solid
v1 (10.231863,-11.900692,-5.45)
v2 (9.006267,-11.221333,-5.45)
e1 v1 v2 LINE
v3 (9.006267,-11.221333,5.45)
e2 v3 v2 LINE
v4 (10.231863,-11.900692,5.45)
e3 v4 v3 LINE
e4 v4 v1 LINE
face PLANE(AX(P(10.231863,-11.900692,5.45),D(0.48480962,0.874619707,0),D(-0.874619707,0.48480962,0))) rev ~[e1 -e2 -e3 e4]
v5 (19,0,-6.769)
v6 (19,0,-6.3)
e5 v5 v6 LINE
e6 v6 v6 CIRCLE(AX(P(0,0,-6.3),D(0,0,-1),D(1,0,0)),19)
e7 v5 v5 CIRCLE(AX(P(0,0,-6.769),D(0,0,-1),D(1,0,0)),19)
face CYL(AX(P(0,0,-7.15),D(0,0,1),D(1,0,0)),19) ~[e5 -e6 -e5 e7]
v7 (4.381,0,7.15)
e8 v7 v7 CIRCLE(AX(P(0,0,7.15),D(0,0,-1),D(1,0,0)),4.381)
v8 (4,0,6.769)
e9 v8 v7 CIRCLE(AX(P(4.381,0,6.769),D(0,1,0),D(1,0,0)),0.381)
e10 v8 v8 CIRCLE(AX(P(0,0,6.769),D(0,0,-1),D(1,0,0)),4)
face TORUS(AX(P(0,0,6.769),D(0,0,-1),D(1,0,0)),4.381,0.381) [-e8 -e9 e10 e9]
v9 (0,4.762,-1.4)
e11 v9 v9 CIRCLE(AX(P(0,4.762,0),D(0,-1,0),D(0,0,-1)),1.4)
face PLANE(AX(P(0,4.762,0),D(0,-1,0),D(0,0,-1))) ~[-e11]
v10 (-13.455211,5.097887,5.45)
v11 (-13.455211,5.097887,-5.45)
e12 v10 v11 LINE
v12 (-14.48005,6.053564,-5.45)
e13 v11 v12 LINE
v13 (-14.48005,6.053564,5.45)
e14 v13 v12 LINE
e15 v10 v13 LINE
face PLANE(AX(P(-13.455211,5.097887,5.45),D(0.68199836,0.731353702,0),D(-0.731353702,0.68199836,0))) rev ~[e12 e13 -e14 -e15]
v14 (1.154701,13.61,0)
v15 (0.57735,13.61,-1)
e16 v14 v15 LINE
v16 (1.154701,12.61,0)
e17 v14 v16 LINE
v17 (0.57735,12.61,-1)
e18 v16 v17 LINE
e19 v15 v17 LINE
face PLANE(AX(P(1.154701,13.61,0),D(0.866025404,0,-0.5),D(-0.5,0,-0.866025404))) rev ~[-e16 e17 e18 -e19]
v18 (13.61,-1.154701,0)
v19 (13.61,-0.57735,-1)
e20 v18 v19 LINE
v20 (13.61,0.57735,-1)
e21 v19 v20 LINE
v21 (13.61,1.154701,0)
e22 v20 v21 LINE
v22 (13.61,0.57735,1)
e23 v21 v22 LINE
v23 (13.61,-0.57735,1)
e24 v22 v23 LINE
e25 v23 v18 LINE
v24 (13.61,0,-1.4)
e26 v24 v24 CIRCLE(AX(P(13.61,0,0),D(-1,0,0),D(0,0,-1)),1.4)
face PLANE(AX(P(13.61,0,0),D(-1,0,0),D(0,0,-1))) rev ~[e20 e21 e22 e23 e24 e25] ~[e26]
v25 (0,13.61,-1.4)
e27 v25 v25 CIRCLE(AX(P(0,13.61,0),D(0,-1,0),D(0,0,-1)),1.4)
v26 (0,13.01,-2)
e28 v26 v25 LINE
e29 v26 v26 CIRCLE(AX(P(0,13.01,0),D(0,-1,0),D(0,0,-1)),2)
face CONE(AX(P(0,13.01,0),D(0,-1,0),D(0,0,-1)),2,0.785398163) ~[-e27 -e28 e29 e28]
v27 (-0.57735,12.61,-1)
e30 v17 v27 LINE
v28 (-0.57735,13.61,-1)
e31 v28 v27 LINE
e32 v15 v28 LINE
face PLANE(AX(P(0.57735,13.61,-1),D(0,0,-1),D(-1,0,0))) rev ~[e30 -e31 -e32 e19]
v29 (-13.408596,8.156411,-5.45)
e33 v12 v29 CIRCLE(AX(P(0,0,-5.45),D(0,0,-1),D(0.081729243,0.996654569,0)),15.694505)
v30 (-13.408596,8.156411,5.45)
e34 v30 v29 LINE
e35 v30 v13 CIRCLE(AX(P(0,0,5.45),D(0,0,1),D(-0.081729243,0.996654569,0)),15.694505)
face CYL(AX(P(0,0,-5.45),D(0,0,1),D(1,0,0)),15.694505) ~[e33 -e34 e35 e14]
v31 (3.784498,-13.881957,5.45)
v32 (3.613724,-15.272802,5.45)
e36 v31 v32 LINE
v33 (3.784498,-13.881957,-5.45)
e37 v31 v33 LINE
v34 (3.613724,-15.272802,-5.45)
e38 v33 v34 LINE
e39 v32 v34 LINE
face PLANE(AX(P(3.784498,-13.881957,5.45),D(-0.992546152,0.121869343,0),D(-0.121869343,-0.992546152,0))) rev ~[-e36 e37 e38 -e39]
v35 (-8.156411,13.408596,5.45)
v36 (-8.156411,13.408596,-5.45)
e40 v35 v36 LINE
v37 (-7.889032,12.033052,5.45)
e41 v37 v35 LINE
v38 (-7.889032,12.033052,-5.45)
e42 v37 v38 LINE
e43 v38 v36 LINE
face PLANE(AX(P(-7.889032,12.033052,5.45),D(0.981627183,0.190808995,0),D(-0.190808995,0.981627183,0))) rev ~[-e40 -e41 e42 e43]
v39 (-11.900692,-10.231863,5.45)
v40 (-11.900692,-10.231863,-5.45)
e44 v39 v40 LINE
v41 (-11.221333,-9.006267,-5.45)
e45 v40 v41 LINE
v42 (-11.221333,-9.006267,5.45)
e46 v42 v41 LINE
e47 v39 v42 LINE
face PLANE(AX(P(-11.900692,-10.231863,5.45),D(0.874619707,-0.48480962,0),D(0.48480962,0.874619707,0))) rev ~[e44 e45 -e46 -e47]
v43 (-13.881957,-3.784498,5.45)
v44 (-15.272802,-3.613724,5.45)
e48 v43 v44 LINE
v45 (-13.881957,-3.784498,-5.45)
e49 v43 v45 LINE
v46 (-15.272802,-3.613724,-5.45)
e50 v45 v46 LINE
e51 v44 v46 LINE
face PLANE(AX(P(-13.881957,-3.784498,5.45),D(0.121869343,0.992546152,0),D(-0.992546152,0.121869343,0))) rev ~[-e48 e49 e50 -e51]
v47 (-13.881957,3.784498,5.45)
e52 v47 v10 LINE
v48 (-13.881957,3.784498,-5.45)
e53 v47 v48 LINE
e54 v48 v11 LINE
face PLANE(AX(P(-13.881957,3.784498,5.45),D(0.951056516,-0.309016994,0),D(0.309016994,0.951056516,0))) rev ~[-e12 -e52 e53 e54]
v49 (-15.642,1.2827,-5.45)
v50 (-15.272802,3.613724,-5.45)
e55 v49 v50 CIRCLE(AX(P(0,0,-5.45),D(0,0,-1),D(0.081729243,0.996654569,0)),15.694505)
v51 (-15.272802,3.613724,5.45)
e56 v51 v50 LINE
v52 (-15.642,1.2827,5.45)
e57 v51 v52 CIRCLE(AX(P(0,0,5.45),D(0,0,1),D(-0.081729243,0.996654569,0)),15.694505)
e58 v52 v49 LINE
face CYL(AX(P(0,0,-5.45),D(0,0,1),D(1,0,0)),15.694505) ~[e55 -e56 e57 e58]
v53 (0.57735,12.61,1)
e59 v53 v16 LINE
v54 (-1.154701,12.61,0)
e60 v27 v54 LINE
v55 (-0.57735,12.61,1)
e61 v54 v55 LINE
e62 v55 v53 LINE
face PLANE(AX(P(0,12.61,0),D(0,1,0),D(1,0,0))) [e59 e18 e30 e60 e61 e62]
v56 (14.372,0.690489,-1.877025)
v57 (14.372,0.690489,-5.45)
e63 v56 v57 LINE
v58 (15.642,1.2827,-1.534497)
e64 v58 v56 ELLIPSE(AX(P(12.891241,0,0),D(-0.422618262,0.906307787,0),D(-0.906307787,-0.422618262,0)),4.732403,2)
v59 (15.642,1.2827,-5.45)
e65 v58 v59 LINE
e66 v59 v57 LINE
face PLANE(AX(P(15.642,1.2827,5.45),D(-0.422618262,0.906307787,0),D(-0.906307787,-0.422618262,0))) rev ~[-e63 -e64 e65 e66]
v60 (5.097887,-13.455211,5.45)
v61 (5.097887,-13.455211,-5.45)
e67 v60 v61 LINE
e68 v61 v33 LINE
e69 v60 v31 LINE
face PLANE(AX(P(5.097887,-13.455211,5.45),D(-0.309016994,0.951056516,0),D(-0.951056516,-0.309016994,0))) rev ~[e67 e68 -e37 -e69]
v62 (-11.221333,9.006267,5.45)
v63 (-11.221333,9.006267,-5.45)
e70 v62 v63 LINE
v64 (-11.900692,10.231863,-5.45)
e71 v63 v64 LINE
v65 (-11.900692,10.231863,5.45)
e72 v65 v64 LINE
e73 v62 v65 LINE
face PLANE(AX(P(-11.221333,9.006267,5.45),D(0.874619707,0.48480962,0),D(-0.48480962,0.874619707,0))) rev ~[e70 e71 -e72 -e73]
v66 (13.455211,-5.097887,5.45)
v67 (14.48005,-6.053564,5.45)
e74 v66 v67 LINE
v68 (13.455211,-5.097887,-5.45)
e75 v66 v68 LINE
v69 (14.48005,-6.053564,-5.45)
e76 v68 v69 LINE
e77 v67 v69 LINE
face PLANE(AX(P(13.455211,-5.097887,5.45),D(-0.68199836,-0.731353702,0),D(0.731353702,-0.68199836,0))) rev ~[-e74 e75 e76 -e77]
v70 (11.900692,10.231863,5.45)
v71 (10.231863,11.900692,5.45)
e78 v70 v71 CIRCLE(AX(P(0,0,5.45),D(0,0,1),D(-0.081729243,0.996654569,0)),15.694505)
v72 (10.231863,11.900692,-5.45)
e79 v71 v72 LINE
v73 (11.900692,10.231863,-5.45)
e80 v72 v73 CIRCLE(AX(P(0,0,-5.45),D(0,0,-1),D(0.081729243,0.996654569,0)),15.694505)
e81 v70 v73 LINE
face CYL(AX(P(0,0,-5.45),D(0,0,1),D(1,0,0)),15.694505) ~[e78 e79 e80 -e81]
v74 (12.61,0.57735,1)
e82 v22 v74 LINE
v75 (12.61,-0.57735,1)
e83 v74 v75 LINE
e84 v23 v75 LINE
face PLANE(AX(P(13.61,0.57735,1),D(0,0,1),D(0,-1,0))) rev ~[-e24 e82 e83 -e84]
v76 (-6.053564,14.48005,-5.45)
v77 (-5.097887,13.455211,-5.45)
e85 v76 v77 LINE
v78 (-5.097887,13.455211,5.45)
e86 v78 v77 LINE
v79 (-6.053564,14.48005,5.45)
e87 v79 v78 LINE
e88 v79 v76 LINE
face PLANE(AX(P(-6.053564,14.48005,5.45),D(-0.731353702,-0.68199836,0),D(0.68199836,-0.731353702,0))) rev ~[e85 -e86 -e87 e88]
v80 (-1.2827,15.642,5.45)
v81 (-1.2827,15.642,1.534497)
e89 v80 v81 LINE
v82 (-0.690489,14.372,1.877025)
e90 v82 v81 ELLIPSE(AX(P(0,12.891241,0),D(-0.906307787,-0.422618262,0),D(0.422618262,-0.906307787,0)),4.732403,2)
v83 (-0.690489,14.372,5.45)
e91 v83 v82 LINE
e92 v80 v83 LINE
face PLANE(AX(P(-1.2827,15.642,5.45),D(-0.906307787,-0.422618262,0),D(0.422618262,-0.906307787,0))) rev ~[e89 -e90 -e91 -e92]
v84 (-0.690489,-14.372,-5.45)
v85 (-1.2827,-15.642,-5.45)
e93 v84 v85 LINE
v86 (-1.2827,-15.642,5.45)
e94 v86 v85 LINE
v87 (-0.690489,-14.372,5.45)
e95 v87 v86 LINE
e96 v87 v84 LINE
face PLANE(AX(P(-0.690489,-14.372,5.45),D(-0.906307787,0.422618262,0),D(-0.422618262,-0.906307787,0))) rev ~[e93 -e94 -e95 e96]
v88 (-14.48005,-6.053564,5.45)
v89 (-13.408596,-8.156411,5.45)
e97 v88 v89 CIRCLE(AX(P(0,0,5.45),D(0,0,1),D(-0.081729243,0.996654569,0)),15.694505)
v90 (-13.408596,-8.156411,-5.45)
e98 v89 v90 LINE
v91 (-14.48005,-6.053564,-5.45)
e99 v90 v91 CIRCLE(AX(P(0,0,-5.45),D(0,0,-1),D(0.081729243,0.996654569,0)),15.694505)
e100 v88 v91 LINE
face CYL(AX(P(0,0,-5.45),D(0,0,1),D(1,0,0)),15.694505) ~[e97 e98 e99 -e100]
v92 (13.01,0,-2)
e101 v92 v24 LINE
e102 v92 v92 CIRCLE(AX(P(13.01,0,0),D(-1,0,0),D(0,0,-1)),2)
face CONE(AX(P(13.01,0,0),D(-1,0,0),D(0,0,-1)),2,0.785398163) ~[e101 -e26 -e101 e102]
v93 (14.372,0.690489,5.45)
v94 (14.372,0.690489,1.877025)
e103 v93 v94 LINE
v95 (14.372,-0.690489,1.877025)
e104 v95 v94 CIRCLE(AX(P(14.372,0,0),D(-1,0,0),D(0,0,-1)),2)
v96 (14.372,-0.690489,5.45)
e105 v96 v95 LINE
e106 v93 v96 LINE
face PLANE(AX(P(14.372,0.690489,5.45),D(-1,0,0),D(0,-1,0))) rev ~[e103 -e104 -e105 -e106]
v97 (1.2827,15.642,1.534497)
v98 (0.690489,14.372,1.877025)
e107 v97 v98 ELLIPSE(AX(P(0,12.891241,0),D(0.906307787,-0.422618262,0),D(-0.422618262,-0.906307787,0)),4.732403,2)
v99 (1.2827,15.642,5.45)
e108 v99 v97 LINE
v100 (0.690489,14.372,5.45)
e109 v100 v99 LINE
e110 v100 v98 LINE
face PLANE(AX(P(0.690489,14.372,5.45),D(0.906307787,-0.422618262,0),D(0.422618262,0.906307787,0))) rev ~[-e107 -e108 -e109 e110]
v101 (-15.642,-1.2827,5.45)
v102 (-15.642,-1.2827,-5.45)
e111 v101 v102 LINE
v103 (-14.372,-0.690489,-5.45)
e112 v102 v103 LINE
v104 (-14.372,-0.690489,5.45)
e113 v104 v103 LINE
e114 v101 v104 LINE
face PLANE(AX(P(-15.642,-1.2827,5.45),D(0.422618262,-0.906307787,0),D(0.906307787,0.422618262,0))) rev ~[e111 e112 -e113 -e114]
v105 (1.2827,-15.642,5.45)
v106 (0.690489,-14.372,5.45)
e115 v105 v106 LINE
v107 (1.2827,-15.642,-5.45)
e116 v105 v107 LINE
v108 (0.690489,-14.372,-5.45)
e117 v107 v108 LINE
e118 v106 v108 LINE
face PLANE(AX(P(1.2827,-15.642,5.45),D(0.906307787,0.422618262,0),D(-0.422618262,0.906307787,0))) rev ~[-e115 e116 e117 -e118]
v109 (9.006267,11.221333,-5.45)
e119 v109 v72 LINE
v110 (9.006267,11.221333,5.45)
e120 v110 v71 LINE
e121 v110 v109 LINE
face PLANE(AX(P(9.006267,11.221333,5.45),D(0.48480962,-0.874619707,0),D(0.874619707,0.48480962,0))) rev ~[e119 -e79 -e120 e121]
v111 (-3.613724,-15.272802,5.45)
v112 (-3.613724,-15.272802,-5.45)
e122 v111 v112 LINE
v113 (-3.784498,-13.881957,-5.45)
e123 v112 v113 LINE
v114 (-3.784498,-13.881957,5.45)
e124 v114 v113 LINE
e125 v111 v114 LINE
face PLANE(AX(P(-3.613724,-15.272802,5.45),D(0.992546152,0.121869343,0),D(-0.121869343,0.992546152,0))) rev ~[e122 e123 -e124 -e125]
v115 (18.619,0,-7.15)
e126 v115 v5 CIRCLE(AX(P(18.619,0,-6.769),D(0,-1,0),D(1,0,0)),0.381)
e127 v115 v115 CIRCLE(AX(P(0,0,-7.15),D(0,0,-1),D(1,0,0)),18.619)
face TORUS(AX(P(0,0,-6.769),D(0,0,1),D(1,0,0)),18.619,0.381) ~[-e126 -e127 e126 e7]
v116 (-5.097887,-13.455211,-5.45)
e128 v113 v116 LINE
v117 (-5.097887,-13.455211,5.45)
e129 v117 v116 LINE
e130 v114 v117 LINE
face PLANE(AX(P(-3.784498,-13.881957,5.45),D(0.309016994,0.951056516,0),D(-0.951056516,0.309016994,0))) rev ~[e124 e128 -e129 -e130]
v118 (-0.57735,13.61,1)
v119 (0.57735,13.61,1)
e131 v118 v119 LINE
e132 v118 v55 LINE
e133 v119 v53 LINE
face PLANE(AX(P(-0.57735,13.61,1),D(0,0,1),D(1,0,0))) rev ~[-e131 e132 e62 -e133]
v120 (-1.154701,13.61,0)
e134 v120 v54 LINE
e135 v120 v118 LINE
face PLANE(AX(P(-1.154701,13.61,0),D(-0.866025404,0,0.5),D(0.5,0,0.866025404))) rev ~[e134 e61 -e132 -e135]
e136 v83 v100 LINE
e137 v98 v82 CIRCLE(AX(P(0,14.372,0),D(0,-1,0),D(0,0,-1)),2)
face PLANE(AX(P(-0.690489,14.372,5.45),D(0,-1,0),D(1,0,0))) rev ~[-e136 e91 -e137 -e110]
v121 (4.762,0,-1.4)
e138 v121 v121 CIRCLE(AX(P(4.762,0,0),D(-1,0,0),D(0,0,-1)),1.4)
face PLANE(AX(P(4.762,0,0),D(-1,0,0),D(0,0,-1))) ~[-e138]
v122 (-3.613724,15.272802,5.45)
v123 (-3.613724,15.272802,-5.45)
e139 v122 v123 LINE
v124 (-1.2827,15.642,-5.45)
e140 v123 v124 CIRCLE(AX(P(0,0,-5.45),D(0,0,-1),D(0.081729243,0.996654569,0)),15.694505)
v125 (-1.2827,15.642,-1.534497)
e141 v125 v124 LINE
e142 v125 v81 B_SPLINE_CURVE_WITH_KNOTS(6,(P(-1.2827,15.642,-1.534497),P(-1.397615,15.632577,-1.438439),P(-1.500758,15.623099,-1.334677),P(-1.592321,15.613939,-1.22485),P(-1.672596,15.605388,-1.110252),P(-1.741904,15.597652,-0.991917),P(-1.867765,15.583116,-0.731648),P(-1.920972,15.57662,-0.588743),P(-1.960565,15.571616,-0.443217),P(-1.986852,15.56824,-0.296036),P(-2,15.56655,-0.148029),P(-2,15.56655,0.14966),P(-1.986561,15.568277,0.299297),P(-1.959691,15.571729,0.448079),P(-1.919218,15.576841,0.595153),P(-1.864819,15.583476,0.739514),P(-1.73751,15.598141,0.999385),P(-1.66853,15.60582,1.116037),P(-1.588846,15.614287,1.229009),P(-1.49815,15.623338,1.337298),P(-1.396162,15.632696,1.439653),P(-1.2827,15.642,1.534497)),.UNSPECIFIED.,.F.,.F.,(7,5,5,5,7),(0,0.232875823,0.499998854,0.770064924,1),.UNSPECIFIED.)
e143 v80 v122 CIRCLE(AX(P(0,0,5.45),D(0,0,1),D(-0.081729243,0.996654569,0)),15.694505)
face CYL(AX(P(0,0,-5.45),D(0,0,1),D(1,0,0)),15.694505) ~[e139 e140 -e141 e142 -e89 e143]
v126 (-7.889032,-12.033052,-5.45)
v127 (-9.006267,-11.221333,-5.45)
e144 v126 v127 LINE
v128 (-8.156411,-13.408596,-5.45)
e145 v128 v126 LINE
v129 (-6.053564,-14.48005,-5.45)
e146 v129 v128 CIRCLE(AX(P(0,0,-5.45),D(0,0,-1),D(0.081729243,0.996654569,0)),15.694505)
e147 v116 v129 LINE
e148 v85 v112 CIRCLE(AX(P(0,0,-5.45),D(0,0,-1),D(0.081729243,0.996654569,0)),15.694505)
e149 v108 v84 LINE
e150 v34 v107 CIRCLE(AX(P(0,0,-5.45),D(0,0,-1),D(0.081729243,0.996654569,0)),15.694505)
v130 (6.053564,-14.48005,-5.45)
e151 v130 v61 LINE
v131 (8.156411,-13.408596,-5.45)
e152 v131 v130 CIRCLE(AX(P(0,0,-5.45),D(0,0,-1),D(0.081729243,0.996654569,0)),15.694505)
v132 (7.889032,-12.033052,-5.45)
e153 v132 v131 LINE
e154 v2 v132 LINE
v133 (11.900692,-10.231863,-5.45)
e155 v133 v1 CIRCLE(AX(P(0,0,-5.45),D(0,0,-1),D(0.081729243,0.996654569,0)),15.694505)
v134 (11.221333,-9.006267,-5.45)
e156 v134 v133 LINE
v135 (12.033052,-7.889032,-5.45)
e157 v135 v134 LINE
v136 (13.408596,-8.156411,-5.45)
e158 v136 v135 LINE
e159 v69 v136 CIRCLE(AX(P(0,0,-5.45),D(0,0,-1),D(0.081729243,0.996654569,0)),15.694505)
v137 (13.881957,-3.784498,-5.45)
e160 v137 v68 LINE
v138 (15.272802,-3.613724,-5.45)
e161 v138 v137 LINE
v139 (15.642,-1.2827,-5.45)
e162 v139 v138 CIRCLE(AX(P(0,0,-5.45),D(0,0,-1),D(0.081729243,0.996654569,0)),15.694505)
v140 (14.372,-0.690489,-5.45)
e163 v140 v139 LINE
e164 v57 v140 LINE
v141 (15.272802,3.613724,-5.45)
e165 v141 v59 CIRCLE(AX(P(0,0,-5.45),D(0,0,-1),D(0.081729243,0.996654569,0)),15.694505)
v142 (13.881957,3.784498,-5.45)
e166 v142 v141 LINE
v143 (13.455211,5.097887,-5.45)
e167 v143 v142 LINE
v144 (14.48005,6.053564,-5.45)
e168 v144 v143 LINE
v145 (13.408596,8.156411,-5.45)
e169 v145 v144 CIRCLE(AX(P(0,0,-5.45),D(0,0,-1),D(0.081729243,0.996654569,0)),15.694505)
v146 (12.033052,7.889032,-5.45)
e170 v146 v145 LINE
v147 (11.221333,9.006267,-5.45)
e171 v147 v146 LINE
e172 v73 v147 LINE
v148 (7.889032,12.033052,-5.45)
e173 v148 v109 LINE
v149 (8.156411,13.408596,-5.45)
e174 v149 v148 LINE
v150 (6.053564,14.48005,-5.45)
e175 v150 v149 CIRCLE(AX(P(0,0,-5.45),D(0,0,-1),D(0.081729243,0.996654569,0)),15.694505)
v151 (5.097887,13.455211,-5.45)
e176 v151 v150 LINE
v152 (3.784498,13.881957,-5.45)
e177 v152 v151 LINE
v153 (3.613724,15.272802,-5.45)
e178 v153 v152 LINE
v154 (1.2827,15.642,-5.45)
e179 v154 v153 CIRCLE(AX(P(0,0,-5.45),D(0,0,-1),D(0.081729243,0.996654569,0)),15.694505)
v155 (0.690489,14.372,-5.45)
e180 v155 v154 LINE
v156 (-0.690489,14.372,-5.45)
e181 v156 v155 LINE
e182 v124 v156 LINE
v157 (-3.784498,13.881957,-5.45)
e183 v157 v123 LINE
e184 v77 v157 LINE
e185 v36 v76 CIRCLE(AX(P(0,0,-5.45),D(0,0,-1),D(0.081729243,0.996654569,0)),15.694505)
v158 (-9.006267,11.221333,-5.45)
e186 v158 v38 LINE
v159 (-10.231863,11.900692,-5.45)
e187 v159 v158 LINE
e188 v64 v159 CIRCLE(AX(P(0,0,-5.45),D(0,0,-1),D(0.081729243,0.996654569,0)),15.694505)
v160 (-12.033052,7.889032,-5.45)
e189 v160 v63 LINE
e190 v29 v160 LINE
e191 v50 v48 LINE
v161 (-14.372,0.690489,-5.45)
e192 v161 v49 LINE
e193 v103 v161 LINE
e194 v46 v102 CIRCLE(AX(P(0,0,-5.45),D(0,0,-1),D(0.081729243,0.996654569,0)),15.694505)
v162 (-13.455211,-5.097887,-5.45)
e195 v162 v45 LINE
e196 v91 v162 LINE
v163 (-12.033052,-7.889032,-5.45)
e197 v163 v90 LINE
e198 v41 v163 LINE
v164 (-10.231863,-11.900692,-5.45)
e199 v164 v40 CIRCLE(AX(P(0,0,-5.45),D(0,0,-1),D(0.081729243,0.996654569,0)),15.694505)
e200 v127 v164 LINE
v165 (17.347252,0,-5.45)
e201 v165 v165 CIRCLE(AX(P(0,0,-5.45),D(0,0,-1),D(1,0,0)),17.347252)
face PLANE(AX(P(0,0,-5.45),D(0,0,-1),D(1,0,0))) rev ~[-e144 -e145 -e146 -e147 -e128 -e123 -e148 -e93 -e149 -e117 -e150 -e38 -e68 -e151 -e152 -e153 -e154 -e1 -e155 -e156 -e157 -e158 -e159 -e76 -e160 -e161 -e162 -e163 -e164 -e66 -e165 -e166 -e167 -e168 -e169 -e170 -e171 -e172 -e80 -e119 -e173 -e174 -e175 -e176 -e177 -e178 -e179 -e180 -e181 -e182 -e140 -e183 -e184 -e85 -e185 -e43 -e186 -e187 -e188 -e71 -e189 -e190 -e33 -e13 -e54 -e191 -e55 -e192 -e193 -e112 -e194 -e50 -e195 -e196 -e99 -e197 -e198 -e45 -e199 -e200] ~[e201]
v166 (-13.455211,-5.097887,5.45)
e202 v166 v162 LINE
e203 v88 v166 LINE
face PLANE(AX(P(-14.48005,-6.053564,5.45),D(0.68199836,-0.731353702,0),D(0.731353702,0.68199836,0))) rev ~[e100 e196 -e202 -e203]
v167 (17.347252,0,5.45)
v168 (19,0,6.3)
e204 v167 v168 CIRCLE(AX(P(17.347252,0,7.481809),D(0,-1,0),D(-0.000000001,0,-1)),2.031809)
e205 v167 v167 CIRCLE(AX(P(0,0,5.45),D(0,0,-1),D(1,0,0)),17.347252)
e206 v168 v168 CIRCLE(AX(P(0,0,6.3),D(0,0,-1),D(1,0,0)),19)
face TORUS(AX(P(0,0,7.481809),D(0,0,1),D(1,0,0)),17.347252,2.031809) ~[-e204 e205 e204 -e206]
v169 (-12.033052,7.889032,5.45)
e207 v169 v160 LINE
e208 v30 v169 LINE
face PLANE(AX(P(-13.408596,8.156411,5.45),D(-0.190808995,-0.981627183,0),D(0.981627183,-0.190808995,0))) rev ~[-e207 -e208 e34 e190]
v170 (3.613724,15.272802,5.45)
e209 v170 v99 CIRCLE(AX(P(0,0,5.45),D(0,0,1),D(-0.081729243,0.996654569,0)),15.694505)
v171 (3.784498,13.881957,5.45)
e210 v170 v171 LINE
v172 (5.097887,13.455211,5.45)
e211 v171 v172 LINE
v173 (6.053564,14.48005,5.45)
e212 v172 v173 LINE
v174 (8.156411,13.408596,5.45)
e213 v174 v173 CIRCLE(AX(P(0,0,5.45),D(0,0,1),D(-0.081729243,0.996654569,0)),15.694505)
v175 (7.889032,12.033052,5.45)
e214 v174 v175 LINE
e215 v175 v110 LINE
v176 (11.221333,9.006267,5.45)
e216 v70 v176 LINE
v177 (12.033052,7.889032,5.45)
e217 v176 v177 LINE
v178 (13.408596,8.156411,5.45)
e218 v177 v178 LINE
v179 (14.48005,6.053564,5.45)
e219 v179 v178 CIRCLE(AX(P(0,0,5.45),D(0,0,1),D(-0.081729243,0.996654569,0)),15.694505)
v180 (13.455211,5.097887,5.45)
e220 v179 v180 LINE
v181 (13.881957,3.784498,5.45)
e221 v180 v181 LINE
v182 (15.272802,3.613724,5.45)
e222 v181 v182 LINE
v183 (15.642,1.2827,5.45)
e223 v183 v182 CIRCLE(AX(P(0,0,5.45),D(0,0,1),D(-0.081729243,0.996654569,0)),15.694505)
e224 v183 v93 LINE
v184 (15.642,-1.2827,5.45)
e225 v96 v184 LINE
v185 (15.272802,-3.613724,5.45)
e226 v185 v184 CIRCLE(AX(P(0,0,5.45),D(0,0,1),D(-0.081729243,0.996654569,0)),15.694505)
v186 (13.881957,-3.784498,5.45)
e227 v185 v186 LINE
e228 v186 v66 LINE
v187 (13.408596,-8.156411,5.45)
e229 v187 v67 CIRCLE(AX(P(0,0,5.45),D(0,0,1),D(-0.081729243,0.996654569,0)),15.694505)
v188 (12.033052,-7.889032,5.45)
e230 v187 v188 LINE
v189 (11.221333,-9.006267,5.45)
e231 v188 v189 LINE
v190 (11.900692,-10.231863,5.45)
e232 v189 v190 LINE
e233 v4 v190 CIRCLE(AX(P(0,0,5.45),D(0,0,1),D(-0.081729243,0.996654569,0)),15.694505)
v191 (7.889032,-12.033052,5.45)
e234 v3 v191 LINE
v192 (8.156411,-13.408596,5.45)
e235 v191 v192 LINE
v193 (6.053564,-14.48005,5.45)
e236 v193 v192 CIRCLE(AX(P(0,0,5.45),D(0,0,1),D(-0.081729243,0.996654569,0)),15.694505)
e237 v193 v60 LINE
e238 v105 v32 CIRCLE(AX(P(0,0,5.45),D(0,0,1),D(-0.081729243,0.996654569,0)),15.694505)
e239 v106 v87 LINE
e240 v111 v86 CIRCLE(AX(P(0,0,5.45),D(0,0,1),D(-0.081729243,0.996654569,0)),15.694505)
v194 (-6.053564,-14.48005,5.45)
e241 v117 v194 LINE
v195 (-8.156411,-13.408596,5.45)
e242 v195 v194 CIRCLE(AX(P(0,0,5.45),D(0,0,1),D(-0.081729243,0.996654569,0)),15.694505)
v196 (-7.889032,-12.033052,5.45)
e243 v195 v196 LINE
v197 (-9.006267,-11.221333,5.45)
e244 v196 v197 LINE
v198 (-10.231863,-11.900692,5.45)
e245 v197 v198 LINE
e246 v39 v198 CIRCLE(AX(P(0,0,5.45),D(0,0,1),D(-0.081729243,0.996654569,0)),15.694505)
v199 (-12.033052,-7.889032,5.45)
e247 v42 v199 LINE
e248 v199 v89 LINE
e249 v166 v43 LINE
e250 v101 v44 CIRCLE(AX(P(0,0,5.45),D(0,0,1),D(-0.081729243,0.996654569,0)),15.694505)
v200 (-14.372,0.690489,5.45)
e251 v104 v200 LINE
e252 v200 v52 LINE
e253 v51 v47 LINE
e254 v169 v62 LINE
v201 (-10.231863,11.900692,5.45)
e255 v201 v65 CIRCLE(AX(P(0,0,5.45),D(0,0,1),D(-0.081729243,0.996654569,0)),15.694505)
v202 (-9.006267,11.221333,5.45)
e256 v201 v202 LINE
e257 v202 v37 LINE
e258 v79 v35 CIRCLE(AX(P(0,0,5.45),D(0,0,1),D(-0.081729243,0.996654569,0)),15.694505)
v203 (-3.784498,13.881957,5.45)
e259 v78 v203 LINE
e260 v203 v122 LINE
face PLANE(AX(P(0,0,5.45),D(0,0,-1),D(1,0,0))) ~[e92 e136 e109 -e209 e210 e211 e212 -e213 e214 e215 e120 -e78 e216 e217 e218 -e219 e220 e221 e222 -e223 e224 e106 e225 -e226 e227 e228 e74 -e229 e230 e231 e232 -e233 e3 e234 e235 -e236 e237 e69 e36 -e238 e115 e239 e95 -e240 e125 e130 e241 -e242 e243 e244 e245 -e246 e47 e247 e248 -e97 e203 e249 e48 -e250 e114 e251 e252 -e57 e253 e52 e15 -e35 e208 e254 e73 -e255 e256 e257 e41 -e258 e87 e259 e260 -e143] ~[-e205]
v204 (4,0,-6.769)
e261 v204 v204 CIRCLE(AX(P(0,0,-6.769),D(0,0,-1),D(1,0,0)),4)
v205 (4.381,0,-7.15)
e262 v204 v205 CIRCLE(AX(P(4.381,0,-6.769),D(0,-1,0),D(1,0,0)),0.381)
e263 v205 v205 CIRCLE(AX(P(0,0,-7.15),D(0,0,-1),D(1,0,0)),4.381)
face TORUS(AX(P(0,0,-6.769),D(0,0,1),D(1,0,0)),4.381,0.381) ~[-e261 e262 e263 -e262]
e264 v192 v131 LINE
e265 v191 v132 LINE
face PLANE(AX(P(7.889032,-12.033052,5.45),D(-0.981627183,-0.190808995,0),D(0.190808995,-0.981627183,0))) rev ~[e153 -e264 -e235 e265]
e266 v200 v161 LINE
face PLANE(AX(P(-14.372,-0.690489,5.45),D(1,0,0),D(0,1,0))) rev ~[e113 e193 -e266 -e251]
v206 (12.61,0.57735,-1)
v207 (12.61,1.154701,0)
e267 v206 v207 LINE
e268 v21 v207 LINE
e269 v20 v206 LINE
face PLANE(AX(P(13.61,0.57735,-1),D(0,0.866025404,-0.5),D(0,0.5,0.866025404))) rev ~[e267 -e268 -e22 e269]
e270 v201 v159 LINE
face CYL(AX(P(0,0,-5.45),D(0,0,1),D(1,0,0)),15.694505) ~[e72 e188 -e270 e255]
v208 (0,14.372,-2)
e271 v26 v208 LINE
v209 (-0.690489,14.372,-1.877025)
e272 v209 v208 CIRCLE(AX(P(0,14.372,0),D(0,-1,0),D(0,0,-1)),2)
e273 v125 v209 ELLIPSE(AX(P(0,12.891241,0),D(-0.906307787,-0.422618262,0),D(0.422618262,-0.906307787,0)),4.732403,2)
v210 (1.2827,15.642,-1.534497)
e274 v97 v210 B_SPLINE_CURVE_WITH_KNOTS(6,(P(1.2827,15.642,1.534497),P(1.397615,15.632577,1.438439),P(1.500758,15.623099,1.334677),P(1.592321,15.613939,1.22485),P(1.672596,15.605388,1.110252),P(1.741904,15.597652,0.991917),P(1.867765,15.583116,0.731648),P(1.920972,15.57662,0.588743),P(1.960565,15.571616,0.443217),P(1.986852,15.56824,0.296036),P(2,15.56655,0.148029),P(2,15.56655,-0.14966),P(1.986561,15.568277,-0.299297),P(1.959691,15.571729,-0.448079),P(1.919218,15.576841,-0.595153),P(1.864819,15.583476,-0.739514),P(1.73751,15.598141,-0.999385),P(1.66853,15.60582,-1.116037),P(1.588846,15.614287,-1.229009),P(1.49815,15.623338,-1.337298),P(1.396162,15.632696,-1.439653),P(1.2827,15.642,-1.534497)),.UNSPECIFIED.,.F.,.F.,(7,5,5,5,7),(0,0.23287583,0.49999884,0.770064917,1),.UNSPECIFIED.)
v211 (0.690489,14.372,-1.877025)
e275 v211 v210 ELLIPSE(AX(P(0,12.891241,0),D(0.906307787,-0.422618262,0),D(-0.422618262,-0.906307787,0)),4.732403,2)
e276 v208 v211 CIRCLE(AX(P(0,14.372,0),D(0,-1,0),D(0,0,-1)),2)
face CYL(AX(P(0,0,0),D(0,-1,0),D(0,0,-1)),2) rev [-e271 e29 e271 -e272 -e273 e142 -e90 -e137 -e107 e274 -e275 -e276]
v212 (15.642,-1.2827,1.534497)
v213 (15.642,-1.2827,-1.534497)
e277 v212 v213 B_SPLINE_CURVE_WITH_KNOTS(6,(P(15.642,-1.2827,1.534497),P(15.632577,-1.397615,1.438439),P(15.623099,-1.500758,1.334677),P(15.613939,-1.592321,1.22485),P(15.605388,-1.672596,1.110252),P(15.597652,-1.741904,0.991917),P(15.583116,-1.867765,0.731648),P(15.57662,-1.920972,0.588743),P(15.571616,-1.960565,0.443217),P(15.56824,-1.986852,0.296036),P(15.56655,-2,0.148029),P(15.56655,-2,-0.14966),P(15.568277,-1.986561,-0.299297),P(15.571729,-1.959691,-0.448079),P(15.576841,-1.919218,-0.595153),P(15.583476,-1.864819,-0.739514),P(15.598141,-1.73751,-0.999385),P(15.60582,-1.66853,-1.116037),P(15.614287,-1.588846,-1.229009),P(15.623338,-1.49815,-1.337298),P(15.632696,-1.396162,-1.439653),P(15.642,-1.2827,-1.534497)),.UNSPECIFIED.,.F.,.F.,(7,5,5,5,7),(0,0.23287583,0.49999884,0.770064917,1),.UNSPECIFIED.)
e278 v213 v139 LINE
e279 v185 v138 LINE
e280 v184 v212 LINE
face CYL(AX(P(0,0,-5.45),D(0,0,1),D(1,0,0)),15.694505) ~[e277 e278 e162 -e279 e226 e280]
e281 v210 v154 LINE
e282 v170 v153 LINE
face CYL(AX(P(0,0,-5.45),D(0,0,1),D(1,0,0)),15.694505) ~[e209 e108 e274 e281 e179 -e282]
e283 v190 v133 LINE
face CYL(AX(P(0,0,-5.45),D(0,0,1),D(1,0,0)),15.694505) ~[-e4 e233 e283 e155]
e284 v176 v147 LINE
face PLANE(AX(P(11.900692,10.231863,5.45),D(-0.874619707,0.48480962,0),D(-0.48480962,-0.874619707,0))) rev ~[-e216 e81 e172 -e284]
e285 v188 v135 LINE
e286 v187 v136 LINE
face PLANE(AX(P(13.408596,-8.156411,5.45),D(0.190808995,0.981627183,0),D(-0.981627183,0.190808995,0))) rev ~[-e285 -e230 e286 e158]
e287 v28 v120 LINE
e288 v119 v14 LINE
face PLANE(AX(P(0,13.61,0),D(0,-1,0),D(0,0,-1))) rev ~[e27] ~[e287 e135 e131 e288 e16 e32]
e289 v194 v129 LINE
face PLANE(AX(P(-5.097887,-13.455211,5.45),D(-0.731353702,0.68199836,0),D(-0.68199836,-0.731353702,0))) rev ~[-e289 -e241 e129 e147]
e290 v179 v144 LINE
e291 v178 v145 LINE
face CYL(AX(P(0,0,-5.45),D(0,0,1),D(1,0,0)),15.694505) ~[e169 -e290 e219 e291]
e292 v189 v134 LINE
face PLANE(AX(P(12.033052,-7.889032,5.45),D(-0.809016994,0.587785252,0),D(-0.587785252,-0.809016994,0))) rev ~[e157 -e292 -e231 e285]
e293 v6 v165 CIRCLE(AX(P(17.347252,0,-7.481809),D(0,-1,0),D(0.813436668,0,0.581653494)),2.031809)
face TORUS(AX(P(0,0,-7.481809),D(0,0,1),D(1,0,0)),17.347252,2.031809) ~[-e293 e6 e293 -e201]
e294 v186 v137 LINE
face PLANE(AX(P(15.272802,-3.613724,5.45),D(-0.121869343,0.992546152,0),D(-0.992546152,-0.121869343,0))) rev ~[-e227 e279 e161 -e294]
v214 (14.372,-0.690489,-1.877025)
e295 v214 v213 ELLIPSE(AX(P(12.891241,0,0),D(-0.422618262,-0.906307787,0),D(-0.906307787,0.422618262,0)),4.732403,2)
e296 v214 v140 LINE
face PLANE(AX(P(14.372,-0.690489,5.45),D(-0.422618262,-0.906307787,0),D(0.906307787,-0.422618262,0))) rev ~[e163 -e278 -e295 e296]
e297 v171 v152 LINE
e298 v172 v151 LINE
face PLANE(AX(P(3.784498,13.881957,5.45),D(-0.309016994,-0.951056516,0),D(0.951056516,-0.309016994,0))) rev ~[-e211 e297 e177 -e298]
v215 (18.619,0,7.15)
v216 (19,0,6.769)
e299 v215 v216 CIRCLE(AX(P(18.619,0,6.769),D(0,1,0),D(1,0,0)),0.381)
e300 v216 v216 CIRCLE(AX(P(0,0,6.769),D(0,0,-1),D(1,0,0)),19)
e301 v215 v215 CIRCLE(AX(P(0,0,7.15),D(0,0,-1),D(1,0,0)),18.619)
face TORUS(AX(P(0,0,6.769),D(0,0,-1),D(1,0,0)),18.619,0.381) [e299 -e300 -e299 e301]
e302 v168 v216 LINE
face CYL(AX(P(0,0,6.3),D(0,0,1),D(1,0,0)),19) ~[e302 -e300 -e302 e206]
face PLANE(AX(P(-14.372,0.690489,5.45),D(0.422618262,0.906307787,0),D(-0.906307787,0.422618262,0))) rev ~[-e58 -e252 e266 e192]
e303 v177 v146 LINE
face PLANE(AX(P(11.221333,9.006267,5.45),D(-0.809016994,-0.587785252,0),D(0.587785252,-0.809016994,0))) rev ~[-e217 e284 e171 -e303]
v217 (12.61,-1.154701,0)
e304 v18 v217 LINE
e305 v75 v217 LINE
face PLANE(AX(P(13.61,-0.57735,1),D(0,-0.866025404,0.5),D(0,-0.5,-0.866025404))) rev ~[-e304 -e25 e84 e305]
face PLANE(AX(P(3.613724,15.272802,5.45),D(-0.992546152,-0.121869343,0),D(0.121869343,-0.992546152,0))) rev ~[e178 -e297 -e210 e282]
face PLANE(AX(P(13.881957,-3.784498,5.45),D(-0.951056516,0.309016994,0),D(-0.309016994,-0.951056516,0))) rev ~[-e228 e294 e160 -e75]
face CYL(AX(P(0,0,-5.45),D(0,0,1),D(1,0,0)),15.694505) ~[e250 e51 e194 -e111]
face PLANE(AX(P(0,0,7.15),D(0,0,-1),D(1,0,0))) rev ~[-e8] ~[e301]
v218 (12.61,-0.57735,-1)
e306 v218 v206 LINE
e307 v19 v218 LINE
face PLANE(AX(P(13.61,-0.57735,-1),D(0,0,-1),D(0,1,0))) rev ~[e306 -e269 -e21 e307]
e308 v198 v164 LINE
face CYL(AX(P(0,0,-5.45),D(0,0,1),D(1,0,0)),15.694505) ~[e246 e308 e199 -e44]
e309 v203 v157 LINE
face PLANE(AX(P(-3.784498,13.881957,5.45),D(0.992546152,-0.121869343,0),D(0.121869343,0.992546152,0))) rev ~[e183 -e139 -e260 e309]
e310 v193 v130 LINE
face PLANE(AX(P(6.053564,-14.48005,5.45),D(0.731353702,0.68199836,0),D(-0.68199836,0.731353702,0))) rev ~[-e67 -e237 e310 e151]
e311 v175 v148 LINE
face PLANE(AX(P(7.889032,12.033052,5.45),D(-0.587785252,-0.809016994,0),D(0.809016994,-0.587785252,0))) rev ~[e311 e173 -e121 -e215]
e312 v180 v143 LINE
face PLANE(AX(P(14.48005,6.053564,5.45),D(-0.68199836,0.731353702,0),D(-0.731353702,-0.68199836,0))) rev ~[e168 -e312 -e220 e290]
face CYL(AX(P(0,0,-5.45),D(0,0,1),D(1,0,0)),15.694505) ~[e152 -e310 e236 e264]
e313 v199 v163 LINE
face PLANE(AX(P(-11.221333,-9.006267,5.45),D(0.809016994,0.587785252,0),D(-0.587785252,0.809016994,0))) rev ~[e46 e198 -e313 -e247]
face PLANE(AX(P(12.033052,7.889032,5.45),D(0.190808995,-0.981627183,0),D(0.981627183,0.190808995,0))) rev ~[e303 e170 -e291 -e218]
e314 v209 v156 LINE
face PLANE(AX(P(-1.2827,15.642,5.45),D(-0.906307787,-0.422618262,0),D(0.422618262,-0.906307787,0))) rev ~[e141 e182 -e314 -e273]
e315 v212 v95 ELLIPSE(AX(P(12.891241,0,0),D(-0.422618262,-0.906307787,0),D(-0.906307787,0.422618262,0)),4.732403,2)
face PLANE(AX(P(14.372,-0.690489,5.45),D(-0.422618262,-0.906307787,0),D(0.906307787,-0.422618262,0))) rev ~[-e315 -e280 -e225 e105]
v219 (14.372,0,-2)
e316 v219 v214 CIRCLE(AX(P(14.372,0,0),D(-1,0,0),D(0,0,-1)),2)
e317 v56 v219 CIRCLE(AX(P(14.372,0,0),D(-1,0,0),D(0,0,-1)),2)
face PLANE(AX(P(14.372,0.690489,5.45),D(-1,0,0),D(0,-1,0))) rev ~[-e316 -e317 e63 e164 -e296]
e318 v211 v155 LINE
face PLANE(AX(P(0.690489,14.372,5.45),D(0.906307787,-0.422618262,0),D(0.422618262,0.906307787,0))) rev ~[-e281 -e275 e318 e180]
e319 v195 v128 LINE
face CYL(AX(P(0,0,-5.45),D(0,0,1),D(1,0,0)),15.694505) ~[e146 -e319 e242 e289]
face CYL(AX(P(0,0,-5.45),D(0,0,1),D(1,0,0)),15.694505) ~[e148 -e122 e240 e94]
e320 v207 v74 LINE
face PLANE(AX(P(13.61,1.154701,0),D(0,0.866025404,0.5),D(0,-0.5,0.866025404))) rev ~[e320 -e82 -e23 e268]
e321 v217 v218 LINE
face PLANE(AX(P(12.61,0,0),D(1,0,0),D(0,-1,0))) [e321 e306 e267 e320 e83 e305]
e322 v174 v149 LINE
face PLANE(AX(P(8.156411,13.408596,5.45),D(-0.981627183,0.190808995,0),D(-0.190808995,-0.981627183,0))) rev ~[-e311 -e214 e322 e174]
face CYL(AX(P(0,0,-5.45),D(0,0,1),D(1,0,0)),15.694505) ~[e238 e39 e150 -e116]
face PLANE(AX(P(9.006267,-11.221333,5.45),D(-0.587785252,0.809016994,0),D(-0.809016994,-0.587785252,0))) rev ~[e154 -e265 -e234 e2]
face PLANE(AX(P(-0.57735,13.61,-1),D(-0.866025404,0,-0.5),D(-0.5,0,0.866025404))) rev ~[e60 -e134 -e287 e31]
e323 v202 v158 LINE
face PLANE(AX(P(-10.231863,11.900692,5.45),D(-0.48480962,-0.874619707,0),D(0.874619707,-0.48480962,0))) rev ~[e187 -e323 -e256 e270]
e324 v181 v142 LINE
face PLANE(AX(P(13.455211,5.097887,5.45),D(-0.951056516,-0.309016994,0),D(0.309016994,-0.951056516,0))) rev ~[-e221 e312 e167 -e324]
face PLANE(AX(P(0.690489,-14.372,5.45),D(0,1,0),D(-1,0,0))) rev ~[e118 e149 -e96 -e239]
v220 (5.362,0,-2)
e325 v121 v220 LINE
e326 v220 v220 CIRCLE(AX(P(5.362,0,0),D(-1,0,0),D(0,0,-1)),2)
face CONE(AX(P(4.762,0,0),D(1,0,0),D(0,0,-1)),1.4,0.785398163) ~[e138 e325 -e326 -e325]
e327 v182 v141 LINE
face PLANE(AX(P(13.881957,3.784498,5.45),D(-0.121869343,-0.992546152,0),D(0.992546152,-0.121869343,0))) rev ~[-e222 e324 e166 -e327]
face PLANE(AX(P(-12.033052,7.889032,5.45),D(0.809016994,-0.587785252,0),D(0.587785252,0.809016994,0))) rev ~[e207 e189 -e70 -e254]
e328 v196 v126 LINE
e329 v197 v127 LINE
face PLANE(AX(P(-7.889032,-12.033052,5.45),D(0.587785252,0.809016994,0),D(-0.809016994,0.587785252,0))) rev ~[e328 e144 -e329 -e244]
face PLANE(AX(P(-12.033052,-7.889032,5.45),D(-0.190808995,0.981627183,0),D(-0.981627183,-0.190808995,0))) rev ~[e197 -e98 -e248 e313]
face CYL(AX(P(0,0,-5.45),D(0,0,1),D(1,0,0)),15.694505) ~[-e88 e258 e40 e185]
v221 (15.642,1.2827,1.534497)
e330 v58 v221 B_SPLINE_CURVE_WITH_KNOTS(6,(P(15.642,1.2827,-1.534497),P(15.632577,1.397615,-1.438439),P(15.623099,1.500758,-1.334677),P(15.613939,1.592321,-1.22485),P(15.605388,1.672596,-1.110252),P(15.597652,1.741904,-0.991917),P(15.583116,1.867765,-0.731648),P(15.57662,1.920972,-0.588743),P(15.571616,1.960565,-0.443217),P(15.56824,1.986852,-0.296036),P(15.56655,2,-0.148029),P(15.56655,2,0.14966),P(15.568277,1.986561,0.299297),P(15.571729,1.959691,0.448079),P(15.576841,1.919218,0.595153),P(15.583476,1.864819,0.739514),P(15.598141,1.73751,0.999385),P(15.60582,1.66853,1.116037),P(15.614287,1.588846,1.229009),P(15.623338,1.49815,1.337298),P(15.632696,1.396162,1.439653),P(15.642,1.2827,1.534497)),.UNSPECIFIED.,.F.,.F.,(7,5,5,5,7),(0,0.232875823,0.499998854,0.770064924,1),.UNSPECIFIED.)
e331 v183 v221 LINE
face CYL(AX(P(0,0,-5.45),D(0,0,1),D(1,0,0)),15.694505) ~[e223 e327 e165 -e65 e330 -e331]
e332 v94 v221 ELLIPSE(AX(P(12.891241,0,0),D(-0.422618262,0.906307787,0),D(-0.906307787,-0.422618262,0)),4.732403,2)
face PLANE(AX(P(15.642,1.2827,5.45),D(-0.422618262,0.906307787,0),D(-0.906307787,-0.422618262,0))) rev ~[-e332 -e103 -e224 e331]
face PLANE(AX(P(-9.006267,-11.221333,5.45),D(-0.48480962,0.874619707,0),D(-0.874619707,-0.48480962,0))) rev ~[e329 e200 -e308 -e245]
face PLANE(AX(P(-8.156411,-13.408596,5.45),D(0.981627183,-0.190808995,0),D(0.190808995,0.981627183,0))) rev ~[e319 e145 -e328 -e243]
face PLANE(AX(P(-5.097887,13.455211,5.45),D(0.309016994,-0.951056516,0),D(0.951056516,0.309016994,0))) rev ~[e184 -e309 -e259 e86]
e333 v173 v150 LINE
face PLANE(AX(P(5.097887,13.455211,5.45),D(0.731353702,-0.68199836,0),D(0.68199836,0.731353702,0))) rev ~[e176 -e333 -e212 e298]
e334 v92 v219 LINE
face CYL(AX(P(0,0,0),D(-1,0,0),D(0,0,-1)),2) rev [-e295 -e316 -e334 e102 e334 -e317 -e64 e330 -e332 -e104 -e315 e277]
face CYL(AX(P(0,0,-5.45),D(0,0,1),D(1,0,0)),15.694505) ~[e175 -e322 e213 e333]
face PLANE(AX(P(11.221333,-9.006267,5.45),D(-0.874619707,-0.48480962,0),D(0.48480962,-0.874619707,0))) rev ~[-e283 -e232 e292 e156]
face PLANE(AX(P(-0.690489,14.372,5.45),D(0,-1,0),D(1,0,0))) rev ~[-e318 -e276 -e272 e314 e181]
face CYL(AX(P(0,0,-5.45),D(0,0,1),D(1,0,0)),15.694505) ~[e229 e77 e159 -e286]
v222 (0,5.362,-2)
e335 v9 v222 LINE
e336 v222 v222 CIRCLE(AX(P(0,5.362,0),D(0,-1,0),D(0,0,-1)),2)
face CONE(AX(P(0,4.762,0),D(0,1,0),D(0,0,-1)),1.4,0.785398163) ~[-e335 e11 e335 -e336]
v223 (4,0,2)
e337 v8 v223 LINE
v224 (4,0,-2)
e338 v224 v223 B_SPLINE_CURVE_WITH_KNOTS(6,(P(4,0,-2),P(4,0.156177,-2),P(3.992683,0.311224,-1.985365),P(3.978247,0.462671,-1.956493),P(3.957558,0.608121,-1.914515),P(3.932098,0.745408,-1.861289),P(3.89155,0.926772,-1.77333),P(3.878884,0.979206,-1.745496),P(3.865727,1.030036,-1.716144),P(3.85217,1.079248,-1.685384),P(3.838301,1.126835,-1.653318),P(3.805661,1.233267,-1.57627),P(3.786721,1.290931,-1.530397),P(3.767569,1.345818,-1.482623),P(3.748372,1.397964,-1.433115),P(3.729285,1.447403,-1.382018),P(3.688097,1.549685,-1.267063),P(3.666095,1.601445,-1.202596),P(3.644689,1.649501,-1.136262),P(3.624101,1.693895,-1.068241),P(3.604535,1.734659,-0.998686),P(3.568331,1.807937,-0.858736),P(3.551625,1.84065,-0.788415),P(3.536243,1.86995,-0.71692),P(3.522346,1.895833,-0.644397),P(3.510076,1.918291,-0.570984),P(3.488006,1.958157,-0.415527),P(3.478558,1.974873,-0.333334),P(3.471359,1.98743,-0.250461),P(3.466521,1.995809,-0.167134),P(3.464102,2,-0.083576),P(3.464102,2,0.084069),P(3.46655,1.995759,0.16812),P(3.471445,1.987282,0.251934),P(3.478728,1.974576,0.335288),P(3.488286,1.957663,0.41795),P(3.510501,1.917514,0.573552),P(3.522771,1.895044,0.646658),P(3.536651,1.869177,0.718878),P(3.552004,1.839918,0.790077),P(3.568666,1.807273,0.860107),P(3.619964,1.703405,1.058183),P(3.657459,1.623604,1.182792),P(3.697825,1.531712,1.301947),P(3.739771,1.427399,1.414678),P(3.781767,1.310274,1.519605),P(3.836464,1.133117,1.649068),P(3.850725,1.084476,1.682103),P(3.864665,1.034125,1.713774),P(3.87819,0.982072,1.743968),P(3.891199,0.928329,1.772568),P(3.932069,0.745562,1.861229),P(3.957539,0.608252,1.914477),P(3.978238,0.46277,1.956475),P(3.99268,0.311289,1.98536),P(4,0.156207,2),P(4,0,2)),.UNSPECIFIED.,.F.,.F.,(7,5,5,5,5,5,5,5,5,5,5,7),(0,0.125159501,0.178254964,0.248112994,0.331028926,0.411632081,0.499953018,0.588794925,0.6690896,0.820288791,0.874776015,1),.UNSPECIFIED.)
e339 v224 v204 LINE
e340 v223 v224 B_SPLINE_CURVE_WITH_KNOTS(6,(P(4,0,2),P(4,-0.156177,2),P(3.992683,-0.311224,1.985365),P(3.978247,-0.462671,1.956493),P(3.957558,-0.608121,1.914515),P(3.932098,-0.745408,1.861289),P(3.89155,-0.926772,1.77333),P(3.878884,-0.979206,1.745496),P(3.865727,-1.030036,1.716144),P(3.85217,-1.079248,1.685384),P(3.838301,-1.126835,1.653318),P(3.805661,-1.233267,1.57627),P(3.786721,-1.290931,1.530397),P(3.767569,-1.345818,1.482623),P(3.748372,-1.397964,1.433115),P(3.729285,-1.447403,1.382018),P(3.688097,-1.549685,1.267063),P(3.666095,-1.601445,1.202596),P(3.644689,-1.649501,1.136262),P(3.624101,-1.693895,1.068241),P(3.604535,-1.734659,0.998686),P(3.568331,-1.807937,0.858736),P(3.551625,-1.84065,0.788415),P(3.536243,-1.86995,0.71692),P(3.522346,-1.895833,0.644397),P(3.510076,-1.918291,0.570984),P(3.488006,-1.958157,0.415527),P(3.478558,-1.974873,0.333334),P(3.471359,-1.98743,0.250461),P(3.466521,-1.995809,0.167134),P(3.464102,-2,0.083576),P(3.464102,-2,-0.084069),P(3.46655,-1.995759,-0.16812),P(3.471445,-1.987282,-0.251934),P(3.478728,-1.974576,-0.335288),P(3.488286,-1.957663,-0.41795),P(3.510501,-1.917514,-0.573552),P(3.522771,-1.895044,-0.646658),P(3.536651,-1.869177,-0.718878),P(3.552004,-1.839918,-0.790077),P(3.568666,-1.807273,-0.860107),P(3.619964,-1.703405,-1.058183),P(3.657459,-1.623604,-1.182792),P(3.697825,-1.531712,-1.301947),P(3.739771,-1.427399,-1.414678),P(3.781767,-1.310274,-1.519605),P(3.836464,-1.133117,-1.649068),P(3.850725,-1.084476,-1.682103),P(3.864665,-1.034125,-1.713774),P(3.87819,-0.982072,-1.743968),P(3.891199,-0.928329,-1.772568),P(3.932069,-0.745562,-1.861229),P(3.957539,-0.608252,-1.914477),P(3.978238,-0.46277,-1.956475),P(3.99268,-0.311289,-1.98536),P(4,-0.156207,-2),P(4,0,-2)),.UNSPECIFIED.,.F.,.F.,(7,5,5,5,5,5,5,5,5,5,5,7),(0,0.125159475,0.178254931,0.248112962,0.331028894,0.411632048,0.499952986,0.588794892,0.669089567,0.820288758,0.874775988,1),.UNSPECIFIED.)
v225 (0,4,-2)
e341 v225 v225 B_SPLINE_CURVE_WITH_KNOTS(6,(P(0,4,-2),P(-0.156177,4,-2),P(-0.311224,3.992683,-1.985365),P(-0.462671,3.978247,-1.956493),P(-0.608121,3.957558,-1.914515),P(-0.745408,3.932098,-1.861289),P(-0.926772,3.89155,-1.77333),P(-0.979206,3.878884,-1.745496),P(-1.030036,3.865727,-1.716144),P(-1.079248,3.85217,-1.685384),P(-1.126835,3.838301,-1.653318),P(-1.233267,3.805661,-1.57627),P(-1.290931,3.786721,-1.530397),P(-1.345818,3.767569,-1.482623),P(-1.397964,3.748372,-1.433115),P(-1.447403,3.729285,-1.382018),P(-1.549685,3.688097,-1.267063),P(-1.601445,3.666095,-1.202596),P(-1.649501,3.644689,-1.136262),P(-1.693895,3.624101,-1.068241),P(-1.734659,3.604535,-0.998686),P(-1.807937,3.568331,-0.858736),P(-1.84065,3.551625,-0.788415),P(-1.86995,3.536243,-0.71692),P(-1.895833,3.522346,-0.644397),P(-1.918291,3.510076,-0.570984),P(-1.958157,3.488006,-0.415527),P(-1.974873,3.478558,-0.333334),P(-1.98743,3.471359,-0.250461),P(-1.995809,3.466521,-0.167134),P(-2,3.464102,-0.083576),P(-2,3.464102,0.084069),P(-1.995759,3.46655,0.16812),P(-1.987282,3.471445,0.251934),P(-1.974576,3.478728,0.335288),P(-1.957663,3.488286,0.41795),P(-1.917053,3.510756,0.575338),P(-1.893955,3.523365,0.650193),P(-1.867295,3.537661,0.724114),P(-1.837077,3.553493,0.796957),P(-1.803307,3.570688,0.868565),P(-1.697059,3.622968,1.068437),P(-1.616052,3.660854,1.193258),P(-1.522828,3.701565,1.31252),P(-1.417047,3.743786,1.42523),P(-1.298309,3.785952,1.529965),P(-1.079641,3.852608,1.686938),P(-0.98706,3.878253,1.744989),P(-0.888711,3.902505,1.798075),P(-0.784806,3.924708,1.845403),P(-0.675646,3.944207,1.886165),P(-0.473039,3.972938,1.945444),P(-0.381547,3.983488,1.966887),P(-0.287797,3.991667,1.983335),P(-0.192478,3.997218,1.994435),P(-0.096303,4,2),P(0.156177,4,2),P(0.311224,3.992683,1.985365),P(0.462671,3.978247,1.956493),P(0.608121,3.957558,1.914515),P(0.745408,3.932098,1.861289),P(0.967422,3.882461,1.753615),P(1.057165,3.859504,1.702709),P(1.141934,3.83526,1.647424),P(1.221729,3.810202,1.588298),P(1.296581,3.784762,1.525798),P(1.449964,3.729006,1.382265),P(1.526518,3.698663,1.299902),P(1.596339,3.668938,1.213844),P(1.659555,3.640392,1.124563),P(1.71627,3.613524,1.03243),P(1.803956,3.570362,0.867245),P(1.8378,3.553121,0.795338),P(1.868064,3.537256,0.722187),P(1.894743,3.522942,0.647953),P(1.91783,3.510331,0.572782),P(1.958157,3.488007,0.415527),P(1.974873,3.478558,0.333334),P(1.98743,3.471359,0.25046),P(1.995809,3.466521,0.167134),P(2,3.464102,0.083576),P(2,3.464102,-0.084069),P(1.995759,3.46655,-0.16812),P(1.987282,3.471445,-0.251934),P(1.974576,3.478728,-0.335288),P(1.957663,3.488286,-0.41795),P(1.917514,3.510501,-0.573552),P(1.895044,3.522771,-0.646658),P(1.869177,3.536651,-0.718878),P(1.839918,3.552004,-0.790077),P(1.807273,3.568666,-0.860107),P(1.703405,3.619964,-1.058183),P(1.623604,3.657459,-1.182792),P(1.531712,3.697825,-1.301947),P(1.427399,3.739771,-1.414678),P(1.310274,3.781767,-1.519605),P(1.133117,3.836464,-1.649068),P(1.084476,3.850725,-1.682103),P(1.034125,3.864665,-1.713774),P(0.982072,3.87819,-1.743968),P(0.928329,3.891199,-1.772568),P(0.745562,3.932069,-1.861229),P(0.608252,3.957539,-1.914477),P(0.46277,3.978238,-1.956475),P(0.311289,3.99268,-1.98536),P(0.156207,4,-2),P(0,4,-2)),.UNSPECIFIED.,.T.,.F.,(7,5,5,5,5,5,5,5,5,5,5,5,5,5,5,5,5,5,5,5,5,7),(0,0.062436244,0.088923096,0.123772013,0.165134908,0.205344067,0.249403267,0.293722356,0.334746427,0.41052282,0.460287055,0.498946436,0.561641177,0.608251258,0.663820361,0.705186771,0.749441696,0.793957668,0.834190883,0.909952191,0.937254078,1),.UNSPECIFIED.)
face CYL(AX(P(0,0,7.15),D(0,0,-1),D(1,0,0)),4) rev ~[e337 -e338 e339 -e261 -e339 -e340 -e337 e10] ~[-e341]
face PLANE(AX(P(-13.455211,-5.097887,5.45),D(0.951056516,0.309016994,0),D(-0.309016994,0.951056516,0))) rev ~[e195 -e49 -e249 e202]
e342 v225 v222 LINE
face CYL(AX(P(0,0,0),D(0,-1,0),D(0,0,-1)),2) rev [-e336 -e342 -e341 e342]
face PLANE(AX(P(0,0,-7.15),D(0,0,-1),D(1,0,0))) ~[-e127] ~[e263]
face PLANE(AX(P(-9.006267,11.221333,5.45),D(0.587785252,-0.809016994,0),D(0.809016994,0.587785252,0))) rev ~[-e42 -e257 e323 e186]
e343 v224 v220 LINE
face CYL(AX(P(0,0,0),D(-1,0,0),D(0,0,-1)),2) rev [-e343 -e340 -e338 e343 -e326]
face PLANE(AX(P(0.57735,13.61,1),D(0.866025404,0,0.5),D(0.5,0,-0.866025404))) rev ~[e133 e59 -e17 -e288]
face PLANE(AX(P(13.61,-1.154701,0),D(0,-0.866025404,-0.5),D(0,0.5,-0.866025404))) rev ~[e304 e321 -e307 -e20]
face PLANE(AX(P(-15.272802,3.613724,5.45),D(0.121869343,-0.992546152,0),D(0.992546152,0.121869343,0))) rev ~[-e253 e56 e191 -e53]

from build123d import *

# Parameters (mm, degrees)
CUT_EXTRUDE1_START = 5.45
CUT_EXTRUDE1_DEPTH = 10.9
CIRPATTERN1_COUNT  = 20
FILLET1_R          = 0.381
SKETCH5_R          = 2
CUT_EXTRUDE2_DEPTH = 28.805080539
CUT_EXTRUDE3_DEPTH = 1
CIRPATTERN2_COUNT  = 2
CIRPATTERN2_ANGLE  = 270


with BuildPart() as part:
    # Sketch2 → Revolve1 (revolve)
    with BuildSketch(Plane(origin=(0, 0, 0), x_dir=(0, 0, -1), z_dir=(1, 0, 0)), mode=Mode.PRIVATE) as revolve1_sk:
        with BuildLine():
            Line((-7.15, 4), (7.15, 4))
            Line((7.15, 4), (7.15, 19))
            Line((7.15, 19), (6.3, 19))
            ThreePointArc((6.3, 19), (5.674952897, 18.276509467), (5.45, 17.347252438))
            Line((5.45, 17.347252438), (5.45, 15.694504876))
            Line((5.45, 15.694504876), (-5.45, 15.694504876))
            Line((-5.45, 15.694504876), (-5.45, 17.347252438))
            ThreePointArc((-5.45, 17.347252438), (-5.674952897, 18.276509467), (-6.3, 19))
            Line((-6.3, 19), (-7.15, 19))
            Line((-7.15, 19), (-7.15, 4))
        make_face()
    revolve(revolve1_sk.sketch.rotate(Axis((0, 0, 7.15), (0, 0, -1)), 90), axis=Axis((0, 0, 7.15), (0, 0, -1)))

    # Sketch3 → Cut-Extrude1 (cut)
    with BuildSketch(Plane.XY.offset(CUT_EXTRUDE1_START)):
        with BuildLine():
            Line((-0.690489274, 14.372), (0.690489274, 14.372))
            Line((0.690489274, 14.372), (1.2827, 15.642))
            ThreePointArc((1.2827, 15.642), (0, 15.694504876), (-1.2827, 15.642))
            Line((-1.2827, 15.642), (-0.690489274, 14.372))
        make_face()
    cut_extrude1 = extrude(amount=-CUT_EXTRUDE1_DEPTH, mode=Mode.SUBTRACT)

    # CirPattern1: Cut-Extrude1 ×20 about axis
    cirpattern1_axis = Axis((0, 0, 0), (0, 0, 1))
    for i in range(1, CIRPATTERN1_COUNT):
        add(cut_extrude1.rotate(cirpattern1_axis, i * 360 / CIRPATTERN1_COUNT), mode=Mode.SUBTRACT)

    # Fillet1
    fillet1_edges = [part.edges().sort_by_distance(p)[0] for p in [
        (-19, 0, -7.15),
        (-4, 0, -7.15),
        (-4, 0, 7.15),
        (-19, 0, 7.15),
    ]]
    fillet(fillet1_edges, radius=FILLET1_R)

    # Sketch5 → Cut-Extrude2 (cut, through all)
    with BuildSketch(Plane(origin=(0, 0, 0), x_dir=(1, 0, 0), z_dir=(0, 1, 0))):
        with Locations(Location((0, 0, 0), (0, 0, 90))):
            Circle(SKETCH5_R)
    cut_extrude2 = extrude(amount=CUT_EXTRUDE2_DEPTH, mode=Mode.SUBTRACT)

    # Sketch6 → Revolve2 (revolve)
    with BuildSketch(Plane(origin=(0, 0, 0), x_dir=(0, 0, -1), z_dir=(1, 0, 0)), mode=Mode.PRIVATE) as revolve2_sk:
        Polygon((0, 13.61), (0, 4.762), (-1.4, 4.762), (-2, 5.362), (-2, 13.01), (-1.4, 13.61), align=None)
    revolve2 = revolve(revolve2_sk.sketch.rotate(Axis((0, 13.61, 0), (0, -1, 0)), 180), axis=Axis((0, 13.61, 0), (0, -1, 0)))

    # Sketch7 → Cut-Extrude3 (cut)
    with BuildSketch(Plane(origin=(0, 13.61, 0), x_dir=(1, 0, 0), z_dir=(0, 1, 0))):
        Polygon((1.154700538, 0), (0.577350269, 1), (-0.577350269, 1), (-1.154700538, 0), (-0.577350269, -1), (0.577350269, -1), align=None)
    cut_extrude3 = extrude(amount=-CUT_EXTRUDE3_DEPTH, mode=Mode.SUBTRACT)

    # CirPattern2: Cut-Extrude2, Revolve2, Cut-Extrude3 ×2 about axis
    cirpattern2_axis = Axis((0, 0, 0), (0, 0, 1))
    add([cut_extrude2.rotate(cirpattern2_axis, i * CIRPATTERN2_ANGLE / (CIRPATTERN2_COUNT - 1)) for i in range(1, CIRPATTERN2_COUNT)], mode=Mode.SUBTRACT)
    add([revolve2.rotate(cirpattern2_axis, i * CIRPATTERN2_ANGLE / (CIRPATTERN2_COUNT - 1)) for i in range(1, CIRPATTERN2_COUNT)])
    add([cut_extrude3.rotate(cirpattern2_axis, i * CIRPATTERN2_ANGLE / (CIRPATTERN2_COUNT - 1)) for i in range(1, CIRPATTERN2_COUNT)], mode=Mode.SUBTRACT)


solid = part.part
